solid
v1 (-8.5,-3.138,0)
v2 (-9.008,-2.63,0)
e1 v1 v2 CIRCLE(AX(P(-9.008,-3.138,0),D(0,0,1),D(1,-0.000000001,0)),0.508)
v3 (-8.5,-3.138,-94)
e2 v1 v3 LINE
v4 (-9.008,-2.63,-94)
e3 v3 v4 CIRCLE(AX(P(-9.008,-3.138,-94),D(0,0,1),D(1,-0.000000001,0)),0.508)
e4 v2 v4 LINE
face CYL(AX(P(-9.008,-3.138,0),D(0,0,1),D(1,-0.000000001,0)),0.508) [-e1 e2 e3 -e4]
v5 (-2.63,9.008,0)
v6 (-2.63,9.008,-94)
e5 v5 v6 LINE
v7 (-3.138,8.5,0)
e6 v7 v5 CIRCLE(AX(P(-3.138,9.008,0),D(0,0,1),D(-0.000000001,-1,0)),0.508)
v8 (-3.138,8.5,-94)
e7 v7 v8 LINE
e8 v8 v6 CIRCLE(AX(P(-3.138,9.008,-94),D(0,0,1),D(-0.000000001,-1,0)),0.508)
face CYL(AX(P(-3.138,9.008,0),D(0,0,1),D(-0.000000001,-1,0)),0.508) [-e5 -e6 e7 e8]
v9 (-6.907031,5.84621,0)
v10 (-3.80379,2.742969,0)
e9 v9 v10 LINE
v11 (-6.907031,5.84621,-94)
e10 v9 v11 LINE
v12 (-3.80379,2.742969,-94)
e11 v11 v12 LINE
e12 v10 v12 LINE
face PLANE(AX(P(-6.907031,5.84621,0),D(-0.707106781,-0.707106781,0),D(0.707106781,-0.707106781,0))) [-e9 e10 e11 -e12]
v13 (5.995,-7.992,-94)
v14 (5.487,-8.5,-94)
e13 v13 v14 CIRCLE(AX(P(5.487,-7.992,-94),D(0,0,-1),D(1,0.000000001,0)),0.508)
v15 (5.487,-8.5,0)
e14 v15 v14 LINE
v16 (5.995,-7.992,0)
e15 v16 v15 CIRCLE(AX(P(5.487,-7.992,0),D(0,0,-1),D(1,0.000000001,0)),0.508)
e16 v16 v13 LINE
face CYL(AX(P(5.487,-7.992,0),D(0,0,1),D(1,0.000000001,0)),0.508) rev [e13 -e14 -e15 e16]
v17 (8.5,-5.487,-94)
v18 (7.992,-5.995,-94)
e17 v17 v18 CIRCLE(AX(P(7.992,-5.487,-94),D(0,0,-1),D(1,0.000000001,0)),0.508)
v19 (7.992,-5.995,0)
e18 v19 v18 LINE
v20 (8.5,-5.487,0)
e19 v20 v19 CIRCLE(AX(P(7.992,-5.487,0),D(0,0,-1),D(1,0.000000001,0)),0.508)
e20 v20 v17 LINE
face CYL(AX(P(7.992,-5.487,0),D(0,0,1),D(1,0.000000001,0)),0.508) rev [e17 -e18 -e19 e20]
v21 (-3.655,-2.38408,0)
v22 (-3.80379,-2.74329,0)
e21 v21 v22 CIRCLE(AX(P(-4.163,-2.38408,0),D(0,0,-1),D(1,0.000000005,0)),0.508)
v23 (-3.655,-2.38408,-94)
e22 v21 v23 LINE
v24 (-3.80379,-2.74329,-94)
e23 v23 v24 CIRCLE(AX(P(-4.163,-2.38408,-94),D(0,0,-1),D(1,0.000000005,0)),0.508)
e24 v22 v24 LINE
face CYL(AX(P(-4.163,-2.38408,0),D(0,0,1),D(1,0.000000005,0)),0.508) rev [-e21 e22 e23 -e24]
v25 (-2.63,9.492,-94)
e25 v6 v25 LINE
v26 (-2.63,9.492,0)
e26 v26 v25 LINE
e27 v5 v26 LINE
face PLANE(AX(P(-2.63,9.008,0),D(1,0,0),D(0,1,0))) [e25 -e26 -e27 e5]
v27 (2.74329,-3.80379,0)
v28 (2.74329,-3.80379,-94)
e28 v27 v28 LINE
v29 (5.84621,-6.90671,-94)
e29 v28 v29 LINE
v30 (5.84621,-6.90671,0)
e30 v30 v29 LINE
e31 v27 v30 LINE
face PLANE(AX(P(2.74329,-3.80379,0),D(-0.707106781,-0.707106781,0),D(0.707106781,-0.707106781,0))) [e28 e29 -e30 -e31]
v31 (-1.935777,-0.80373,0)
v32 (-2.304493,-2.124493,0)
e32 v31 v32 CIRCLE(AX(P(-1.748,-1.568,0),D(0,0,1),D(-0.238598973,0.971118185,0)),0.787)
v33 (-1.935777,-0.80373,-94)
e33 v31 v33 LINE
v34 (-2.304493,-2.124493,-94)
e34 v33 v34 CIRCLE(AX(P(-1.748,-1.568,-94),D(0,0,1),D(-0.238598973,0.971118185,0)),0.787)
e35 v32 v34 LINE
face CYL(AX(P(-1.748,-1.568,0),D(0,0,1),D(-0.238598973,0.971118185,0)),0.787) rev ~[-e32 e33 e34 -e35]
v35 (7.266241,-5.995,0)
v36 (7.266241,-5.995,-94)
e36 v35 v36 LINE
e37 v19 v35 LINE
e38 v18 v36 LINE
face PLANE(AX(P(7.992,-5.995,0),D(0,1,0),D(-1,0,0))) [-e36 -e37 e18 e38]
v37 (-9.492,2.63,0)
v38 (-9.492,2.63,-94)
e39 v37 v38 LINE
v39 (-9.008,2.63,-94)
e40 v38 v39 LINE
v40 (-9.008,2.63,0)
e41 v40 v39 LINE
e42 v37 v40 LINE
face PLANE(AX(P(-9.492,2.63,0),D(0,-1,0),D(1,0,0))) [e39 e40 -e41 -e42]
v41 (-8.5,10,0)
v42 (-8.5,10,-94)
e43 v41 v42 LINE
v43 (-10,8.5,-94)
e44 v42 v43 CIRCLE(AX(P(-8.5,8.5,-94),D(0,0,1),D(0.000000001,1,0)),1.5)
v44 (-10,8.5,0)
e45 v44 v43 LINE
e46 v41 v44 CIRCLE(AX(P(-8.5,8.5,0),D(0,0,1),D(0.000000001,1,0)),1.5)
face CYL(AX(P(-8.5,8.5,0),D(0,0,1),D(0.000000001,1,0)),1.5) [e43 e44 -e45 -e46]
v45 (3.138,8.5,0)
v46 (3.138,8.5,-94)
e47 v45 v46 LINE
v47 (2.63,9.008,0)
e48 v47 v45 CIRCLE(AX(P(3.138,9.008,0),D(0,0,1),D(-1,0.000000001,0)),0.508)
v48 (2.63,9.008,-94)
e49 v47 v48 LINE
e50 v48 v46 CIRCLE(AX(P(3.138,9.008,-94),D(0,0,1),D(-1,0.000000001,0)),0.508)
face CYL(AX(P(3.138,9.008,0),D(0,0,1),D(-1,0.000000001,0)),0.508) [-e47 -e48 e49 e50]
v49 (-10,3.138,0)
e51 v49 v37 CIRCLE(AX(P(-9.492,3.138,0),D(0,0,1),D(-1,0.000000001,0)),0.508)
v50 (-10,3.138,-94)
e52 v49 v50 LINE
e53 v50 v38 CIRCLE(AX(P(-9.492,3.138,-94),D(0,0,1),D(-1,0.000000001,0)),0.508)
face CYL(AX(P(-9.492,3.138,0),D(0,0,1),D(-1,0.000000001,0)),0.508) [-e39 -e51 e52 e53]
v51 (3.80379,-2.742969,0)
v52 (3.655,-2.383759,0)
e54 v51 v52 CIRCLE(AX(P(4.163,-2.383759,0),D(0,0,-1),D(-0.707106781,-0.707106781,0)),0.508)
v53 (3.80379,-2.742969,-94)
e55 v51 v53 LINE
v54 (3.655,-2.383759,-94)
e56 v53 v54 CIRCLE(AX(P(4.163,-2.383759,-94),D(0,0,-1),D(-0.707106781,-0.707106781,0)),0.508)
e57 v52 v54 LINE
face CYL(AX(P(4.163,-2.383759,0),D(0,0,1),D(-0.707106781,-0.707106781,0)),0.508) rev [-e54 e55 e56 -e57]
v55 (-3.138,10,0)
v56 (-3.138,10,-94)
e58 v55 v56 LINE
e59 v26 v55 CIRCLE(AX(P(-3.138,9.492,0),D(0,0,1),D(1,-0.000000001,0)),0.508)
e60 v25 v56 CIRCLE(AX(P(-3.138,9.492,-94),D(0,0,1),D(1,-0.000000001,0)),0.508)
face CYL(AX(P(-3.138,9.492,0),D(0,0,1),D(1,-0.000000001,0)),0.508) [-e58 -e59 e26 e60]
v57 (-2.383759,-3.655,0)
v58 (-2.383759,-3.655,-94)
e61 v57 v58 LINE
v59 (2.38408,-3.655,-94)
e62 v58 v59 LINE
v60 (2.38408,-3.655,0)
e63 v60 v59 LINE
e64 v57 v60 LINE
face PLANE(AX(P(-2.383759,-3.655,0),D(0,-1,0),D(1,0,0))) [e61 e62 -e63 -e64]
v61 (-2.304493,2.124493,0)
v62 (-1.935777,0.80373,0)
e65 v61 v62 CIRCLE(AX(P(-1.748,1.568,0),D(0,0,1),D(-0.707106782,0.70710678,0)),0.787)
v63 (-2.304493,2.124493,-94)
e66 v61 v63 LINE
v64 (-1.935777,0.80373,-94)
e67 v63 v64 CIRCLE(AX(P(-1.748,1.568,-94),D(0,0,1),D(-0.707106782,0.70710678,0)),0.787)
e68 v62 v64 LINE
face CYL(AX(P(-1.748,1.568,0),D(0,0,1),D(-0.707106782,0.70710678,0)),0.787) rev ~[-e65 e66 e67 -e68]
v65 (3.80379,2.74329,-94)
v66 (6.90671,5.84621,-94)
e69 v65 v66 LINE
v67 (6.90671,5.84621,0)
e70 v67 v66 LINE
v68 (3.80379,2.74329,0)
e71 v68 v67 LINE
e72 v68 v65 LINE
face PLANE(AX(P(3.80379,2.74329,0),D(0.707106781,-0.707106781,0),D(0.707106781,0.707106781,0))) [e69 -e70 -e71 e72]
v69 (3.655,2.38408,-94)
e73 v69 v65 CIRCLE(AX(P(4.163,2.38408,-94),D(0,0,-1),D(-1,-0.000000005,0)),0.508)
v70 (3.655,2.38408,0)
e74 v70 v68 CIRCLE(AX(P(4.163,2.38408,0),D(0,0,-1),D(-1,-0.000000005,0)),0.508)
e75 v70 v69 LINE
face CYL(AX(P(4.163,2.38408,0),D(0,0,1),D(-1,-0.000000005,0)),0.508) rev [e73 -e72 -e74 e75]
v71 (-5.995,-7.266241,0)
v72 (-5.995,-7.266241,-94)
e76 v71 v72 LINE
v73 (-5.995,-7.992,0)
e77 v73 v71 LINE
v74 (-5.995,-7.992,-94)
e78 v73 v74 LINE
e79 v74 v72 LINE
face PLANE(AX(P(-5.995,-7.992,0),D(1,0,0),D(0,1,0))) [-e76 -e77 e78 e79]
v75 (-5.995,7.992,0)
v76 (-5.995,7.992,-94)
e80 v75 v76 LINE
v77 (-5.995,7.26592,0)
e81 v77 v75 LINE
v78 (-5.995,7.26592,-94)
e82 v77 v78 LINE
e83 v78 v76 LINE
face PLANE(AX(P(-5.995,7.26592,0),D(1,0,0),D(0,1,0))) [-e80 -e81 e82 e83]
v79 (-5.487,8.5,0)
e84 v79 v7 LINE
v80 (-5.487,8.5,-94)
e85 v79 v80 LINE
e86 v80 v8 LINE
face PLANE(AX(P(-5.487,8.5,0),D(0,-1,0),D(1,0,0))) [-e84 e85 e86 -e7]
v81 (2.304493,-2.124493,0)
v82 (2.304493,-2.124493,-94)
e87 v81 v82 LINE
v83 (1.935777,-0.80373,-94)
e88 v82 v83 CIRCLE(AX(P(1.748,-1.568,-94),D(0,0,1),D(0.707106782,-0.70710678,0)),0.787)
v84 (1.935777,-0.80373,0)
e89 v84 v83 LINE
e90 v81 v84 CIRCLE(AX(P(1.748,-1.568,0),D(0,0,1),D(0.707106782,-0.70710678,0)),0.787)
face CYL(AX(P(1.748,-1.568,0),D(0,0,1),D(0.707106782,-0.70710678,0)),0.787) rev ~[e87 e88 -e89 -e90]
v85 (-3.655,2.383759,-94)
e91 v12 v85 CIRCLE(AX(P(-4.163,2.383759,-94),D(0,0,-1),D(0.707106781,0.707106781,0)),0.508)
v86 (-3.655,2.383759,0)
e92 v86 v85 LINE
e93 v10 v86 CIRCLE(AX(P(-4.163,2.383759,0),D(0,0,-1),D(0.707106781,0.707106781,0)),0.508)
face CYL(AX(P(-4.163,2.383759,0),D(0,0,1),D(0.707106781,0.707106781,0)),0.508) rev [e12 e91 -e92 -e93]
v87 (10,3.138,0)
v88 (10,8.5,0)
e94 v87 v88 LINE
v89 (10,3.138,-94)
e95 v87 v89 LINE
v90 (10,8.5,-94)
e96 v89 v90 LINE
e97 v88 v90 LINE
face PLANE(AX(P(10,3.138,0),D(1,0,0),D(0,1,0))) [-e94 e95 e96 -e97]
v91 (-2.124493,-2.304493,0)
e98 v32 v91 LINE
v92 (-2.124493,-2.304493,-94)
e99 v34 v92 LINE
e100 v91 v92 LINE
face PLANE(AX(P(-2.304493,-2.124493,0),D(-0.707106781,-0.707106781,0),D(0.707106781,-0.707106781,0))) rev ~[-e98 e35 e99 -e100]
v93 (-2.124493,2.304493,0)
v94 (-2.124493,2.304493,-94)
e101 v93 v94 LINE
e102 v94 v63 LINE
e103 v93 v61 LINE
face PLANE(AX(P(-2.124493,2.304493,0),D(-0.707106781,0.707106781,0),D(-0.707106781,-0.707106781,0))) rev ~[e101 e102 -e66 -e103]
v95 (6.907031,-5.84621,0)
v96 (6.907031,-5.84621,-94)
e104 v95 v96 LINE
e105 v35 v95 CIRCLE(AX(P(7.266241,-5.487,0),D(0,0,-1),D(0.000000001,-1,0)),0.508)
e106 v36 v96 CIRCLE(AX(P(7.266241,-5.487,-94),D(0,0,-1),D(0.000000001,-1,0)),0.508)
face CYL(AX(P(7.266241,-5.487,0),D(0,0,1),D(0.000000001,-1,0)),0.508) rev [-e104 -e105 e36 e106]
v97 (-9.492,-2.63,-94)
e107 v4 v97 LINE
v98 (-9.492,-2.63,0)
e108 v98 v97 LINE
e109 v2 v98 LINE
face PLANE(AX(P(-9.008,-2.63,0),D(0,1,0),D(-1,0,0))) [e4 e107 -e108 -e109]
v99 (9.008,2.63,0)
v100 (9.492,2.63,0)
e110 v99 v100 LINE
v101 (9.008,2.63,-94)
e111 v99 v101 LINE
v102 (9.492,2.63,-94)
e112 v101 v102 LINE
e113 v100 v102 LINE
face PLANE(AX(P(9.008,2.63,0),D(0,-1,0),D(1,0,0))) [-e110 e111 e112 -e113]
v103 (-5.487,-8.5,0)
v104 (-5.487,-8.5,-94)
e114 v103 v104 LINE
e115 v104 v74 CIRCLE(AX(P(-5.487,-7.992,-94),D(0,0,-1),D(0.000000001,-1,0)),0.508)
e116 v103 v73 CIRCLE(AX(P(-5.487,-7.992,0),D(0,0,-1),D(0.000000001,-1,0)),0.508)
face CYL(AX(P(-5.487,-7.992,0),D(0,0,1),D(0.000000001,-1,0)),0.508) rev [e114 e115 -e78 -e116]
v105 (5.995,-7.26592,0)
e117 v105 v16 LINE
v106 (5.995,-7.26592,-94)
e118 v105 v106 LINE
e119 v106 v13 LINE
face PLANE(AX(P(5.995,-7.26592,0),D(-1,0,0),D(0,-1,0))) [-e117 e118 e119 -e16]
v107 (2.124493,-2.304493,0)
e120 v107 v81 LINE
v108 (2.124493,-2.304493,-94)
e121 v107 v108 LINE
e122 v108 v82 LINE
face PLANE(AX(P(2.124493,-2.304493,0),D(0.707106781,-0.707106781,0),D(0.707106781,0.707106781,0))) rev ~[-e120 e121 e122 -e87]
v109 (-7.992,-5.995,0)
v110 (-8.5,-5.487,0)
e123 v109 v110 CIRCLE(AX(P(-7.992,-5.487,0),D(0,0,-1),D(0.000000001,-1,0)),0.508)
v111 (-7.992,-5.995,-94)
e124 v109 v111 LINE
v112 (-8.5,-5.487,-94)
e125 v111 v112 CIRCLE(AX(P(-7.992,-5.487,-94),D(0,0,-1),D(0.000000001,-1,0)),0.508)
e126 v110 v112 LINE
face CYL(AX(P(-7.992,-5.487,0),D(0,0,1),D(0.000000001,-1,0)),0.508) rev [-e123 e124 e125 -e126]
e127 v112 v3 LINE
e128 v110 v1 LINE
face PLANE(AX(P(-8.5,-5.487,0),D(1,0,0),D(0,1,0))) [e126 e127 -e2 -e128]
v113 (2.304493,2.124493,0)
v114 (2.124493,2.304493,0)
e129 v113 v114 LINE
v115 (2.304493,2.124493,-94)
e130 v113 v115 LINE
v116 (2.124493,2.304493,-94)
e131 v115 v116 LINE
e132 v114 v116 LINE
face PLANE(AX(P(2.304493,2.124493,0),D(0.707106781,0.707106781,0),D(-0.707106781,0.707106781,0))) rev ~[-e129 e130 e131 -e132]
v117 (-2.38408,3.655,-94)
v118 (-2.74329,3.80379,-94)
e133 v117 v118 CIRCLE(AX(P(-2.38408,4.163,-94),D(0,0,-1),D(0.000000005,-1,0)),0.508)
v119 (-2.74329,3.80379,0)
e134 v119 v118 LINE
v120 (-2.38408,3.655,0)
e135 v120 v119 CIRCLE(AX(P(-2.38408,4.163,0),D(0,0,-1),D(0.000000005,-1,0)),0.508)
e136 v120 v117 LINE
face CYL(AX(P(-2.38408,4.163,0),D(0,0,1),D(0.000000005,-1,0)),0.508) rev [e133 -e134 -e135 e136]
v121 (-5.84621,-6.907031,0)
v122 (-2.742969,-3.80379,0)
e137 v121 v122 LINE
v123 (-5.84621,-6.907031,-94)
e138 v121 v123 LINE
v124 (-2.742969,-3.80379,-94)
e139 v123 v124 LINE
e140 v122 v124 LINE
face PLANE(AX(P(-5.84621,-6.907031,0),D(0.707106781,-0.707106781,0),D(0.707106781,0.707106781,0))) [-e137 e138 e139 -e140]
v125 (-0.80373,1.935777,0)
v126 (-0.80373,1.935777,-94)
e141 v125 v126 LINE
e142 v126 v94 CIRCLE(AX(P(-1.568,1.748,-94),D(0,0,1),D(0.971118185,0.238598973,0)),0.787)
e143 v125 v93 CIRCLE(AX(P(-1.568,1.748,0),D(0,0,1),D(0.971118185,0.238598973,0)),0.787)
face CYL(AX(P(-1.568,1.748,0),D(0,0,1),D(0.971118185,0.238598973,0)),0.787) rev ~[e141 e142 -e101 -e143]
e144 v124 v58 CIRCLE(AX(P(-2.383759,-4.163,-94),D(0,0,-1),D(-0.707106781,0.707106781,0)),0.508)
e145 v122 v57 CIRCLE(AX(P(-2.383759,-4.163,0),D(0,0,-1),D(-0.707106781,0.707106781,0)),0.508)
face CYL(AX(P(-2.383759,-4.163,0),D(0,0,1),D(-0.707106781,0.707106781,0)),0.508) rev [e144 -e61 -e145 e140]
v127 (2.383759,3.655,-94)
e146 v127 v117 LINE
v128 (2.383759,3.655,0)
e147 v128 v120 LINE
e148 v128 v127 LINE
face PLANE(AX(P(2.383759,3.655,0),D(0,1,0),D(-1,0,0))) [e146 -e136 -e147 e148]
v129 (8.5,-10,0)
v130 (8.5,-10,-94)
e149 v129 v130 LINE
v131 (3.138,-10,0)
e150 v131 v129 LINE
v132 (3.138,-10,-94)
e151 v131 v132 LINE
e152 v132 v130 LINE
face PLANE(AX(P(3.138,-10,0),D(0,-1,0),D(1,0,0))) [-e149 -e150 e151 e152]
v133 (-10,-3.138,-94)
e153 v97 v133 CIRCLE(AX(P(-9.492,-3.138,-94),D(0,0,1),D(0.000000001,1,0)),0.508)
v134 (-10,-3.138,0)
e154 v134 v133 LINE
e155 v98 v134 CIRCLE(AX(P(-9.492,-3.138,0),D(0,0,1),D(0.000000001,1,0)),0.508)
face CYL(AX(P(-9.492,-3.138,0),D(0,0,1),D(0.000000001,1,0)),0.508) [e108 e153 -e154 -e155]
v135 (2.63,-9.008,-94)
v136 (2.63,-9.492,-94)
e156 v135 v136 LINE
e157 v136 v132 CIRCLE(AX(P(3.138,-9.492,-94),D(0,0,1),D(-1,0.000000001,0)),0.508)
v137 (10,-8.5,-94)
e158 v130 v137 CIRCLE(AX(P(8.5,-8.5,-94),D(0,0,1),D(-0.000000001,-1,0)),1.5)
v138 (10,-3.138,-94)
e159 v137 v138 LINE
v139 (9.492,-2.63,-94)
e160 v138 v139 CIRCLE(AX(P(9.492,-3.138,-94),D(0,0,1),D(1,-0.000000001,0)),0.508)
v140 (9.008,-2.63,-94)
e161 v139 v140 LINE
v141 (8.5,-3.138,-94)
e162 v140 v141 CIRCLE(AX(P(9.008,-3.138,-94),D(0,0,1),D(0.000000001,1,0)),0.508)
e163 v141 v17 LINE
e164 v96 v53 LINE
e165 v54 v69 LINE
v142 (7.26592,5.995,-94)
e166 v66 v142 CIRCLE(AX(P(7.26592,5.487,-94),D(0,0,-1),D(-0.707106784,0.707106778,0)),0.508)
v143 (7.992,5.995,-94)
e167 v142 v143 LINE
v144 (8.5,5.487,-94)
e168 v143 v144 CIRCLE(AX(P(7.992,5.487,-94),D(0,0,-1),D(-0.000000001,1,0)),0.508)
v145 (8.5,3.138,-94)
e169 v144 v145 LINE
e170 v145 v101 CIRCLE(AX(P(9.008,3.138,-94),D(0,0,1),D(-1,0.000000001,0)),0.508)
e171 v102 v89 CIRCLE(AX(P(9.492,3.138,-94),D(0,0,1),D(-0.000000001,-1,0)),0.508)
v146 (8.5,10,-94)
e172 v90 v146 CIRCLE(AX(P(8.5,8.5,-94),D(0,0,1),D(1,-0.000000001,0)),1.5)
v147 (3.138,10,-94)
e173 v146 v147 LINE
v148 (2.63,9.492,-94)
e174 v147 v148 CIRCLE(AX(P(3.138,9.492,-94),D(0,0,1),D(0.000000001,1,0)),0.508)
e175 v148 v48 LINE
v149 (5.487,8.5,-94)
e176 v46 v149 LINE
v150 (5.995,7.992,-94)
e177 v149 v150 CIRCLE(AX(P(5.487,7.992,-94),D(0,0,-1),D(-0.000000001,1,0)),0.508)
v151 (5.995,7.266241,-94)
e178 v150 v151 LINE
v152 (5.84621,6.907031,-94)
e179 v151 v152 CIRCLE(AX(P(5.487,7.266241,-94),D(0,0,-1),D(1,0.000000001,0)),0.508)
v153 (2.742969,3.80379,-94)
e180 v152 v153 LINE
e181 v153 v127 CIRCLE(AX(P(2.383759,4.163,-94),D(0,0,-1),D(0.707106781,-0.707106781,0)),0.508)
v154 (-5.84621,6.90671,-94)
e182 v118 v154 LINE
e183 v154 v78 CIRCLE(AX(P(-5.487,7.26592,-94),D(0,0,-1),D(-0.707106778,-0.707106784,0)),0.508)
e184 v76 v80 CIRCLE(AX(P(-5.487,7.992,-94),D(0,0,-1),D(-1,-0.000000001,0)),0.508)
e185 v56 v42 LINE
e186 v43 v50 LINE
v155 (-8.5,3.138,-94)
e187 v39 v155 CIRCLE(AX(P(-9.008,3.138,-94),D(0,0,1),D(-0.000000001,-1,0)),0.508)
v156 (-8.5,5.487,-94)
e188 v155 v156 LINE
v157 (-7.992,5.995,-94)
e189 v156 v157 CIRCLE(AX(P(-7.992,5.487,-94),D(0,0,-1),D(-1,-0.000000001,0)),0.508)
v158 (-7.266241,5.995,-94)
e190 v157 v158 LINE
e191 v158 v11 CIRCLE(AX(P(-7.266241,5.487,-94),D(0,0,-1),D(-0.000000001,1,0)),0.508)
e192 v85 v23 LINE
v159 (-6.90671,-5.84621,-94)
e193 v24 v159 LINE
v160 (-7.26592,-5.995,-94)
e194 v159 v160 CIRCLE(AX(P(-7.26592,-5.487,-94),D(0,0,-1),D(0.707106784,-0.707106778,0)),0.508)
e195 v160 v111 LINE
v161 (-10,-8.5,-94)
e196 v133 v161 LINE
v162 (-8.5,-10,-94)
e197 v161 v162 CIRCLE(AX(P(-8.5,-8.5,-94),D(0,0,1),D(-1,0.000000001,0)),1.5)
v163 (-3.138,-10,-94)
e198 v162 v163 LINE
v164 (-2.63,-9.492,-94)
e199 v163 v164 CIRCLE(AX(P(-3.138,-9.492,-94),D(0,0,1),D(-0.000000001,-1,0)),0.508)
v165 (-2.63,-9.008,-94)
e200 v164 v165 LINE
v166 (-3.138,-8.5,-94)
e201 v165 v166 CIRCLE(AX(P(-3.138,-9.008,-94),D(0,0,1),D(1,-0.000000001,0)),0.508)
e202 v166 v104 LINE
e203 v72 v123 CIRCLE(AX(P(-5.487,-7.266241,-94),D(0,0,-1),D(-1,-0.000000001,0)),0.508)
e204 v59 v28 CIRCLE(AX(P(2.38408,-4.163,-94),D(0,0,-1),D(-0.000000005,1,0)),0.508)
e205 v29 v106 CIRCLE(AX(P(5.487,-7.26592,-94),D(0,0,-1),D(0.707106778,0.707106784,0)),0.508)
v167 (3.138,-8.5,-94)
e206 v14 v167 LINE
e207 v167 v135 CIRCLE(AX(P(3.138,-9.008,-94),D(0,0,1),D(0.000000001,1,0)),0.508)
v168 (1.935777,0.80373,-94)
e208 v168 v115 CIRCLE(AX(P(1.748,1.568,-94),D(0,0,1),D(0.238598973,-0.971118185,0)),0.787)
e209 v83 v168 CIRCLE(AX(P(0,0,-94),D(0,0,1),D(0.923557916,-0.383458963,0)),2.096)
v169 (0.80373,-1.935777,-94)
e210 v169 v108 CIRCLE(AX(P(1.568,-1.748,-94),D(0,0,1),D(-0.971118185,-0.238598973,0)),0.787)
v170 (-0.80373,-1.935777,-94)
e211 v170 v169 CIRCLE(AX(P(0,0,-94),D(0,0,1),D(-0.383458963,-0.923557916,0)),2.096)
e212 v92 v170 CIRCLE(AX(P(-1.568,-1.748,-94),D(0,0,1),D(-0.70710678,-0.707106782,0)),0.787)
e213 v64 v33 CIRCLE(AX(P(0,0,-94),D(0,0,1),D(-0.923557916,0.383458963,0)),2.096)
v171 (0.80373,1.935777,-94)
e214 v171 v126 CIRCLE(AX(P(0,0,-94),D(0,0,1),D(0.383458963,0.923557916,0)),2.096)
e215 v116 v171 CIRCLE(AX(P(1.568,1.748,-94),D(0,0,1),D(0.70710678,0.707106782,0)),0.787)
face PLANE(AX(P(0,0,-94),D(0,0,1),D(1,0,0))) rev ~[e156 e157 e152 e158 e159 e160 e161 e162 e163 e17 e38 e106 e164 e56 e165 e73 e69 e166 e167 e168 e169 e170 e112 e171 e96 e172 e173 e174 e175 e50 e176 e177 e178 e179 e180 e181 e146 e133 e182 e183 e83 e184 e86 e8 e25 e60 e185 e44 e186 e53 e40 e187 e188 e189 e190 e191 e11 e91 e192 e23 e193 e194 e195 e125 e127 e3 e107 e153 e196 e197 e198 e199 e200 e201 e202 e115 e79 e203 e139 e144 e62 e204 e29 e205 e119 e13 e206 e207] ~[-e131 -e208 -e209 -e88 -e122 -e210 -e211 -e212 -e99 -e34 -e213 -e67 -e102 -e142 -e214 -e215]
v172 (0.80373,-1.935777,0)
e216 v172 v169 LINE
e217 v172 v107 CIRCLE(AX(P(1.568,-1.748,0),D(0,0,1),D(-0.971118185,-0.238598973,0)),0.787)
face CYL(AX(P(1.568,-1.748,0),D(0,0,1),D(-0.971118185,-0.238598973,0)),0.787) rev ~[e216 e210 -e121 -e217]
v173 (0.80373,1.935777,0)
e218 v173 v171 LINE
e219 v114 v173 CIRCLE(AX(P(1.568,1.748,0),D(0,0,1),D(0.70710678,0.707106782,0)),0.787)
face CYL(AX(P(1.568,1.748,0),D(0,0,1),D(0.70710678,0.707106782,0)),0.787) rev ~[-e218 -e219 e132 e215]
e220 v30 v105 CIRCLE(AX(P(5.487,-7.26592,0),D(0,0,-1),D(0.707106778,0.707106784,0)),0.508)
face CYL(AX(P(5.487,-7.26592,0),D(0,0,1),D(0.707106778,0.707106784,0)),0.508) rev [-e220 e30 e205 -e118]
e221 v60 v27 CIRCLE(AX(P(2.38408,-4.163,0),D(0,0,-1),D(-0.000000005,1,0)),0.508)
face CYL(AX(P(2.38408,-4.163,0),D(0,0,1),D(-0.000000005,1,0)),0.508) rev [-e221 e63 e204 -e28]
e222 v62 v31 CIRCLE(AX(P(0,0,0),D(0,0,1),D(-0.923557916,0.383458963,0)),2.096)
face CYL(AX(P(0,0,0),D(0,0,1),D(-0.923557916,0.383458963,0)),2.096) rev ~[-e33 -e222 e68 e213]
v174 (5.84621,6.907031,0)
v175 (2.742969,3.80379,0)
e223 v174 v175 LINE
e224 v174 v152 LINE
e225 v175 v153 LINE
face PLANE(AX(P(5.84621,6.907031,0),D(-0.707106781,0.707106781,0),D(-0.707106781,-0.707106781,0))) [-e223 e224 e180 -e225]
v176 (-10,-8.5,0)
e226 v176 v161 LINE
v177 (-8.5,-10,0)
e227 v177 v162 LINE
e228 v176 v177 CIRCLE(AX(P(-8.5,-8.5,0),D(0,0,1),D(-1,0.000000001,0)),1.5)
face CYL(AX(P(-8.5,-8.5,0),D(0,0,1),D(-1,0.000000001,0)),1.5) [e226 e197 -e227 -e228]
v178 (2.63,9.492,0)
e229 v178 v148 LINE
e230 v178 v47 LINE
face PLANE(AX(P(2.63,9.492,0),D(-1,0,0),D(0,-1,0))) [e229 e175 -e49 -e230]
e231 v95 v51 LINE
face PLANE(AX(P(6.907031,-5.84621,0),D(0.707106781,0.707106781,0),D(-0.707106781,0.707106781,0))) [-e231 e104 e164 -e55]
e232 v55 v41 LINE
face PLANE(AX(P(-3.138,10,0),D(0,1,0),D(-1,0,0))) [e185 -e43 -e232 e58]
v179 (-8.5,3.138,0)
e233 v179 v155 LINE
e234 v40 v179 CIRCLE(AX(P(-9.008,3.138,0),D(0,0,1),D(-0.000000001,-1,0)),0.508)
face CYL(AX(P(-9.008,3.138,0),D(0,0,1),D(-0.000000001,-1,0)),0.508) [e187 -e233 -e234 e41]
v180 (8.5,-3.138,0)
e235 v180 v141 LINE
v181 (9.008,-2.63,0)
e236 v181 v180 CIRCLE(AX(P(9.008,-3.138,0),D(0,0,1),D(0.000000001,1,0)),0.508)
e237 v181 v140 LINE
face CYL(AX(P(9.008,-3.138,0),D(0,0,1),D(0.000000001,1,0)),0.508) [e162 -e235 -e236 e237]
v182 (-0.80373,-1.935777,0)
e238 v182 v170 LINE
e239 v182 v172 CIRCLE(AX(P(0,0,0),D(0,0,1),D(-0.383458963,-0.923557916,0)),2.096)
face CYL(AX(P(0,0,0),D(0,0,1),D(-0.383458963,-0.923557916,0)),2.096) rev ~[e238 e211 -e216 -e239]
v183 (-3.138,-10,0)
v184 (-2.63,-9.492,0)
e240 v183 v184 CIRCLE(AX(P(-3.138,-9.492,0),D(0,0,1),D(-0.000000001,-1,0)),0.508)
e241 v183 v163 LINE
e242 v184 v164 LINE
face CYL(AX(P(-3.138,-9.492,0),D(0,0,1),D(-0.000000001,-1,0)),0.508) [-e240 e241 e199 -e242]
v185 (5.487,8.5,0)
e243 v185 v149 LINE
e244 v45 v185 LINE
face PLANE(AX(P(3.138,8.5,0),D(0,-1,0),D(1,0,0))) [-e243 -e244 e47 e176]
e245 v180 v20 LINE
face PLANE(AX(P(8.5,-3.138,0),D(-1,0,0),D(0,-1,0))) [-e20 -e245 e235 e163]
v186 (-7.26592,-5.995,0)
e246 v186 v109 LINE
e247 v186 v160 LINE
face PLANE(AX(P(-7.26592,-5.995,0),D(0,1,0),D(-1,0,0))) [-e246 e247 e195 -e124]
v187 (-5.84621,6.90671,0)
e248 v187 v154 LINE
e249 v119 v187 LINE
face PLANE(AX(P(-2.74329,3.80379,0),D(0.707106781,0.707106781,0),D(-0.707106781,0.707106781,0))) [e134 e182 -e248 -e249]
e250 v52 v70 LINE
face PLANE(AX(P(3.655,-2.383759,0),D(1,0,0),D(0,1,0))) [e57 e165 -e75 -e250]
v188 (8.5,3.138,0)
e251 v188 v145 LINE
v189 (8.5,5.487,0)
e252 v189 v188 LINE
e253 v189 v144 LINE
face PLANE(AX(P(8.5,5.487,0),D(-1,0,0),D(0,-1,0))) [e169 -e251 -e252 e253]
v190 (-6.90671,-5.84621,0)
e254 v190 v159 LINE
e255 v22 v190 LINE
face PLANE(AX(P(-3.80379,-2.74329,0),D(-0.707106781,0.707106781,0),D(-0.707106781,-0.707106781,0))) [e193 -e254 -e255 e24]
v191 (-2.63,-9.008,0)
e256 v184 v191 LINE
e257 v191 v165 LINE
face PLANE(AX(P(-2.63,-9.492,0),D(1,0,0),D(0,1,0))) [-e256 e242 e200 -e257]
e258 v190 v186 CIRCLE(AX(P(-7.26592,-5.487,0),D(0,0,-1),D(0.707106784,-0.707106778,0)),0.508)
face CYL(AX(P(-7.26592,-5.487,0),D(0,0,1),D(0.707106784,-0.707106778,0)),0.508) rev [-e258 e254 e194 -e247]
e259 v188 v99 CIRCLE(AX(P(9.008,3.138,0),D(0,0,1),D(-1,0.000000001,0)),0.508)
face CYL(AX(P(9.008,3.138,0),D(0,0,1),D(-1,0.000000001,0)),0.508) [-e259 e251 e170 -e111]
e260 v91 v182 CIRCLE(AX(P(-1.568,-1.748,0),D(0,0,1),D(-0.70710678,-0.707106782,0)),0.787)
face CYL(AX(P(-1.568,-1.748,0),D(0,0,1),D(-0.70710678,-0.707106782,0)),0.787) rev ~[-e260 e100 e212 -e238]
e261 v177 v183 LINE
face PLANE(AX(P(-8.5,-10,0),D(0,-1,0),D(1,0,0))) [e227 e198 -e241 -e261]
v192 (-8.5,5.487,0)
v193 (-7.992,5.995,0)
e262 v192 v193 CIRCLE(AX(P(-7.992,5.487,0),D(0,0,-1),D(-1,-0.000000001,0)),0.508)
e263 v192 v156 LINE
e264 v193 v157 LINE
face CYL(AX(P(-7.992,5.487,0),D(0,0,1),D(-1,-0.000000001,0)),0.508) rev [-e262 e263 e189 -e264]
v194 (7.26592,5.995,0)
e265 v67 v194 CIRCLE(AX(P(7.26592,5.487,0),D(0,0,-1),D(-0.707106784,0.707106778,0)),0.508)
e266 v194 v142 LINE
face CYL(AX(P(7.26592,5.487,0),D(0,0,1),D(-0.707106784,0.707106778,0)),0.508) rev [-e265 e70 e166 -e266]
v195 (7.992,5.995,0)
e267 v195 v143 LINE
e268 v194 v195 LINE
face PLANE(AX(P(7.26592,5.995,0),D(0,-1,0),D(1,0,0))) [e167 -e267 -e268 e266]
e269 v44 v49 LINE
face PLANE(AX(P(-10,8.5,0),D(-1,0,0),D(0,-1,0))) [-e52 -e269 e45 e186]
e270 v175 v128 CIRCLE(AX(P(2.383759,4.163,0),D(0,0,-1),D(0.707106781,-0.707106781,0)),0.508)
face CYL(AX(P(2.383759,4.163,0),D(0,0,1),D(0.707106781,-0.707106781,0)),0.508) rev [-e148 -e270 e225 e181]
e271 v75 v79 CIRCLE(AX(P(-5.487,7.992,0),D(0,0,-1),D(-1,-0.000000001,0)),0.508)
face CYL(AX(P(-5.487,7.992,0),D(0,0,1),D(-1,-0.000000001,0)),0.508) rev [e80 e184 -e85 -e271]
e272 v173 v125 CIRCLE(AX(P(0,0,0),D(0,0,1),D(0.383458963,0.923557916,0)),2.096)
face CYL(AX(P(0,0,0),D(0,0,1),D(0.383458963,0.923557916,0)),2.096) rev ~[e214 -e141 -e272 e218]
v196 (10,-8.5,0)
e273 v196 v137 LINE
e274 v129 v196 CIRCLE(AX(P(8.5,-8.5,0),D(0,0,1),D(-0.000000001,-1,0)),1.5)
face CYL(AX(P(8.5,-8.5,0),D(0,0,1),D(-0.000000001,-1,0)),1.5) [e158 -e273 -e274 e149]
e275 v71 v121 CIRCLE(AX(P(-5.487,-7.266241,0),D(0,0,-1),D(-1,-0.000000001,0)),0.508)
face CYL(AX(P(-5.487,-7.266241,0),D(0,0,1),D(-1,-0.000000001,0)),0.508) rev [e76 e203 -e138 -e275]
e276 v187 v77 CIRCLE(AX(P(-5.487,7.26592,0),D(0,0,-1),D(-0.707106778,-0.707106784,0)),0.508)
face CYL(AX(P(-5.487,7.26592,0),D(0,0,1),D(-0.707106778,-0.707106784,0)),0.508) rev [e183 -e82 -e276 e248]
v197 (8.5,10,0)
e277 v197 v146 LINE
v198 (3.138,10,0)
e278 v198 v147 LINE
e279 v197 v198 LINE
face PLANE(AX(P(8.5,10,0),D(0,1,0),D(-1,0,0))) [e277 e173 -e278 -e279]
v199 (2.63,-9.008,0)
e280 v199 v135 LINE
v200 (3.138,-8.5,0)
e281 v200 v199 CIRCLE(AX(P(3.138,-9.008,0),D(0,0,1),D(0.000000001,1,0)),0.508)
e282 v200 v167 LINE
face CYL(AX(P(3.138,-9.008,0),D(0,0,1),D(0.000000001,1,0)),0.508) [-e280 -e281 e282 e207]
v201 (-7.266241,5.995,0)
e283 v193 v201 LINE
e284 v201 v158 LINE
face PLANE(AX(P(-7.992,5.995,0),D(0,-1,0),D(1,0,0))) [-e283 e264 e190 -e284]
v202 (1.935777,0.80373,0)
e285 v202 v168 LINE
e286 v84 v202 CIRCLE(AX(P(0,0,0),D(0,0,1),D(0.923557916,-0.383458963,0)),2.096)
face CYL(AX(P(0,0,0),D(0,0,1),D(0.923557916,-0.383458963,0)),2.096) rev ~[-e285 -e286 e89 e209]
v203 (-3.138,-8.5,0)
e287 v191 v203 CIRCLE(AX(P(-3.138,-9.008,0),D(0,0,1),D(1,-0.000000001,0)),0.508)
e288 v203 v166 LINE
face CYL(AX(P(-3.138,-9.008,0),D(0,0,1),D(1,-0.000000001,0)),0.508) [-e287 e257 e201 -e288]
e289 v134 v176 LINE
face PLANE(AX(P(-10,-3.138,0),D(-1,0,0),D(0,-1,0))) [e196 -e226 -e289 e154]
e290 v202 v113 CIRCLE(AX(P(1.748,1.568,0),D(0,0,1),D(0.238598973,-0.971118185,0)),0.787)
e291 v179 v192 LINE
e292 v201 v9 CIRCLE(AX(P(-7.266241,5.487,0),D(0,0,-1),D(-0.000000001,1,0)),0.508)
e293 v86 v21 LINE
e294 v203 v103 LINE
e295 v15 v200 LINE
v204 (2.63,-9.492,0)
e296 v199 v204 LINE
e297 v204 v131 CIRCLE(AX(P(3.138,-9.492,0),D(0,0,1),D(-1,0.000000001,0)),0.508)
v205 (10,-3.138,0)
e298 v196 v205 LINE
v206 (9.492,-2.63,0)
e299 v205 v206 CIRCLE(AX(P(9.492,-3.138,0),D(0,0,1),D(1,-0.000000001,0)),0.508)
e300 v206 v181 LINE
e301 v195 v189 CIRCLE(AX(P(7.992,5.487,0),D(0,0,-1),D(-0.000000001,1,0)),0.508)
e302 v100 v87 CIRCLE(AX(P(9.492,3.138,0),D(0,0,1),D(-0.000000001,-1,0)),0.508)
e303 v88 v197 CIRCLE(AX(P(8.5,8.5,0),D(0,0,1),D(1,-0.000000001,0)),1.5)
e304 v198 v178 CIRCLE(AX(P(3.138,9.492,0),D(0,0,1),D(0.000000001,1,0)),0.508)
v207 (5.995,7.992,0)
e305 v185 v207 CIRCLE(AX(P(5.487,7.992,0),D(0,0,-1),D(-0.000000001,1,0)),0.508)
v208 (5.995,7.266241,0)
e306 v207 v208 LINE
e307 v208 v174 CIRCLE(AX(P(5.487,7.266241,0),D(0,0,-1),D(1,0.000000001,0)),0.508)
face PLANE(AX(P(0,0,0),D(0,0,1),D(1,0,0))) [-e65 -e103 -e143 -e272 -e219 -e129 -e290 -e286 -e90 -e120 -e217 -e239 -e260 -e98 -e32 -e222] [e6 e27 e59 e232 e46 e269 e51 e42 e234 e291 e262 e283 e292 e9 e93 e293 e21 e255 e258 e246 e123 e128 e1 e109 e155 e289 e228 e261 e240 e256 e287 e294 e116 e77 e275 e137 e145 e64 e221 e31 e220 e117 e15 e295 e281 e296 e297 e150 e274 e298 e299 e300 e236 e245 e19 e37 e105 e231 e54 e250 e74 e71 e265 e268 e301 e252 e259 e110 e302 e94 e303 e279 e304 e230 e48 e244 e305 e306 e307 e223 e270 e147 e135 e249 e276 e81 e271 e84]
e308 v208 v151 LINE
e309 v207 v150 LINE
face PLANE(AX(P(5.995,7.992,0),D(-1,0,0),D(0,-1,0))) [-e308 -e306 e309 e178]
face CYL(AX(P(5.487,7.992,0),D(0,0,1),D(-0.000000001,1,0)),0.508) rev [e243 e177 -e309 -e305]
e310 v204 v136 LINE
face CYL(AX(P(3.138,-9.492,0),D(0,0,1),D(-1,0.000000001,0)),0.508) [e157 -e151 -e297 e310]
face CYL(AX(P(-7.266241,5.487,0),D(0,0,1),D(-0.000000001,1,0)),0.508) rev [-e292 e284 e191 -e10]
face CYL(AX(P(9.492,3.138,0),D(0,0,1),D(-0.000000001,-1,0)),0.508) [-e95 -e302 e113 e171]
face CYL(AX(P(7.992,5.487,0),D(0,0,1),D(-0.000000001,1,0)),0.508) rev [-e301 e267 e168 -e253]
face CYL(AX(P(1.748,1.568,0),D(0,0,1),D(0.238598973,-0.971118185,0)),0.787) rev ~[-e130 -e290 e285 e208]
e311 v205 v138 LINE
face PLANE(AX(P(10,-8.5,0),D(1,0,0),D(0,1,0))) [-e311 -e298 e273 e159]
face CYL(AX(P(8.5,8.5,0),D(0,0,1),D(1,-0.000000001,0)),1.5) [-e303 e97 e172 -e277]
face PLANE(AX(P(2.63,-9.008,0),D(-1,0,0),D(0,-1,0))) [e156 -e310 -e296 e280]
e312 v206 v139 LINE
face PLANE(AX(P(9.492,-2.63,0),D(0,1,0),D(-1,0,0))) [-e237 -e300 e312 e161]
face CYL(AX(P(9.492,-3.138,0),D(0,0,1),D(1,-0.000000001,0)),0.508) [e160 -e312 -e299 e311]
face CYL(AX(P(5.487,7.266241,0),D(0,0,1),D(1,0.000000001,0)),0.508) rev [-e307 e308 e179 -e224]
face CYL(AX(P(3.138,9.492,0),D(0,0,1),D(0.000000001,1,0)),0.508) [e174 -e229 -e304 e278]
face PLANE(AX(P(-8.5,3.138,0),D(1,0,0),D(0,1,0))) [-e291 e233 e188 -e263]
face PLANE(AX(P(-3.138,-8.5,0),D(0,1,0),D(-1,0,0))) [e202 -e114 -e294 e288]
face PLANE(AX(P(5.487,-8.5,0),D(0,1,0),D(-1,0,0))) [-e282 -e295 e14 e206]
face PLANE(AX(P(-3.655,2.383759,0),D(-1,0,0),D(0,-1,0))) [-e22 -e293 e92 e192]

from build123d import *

# Parameters (mm, degrees)
BOSS_EXTRUDE1_DEPTH = 94


with BuildPart() as part:
    # Sketch2 → Boss-Extrude1 (new body)
    with BuildSketch(Plane.XY):
        with BuildLine():
            Line((-10, -3.138), (-10, -8.5))
            ThreePointArc((-10, -8.5), (-9.560660172, -9.560660172), (-8.5, -10))
            Line((-8.5, -10), (-3.138, -10))
            ThreePointArc((-3.138, -10), (-2.778789755, -9.851210245), (-2.63, -9.492))
            Line((-2.63, -9.492), (-2.63, -9.008))
            ThreePointArc((-2.63, -9.008), (-2.778789755, -8.648789755), (-3.138, -8.5))
            Line((-3.138, -8.5), (-5.487, -8.5))
            ThreePointArc((-5.487, -8.5), (-5.846210245, -8.351210245), (-5.995, -7.992))
            Line((-5.995, -7.992), (-5.995, -7.266240833))
            ThreePointArc((-5.995, -7.266240833), (-5.956330803, -7.07183765), (-5.846210245, -6.907030588))
            Line((-5.846210245, -6.907030588), (-2.742969412, -3.803789755))
            ThreePointArc((-2.742969412, -3.803789755), (-2.57816235, -3.693669197), (-2.383759167, -3.655))
            Line((-2.383759167, -3.655), (2.38407951, -3.655))
            ThreePointArc((2.38407951, -3.655), (2.578482694, -3.693669197), (2.743289755, -3.803789755))
            Line((2.743289755, -3.803789755), (5.846210245, -6.906710245))
            ThreePointArc((5.846210245, -6.906710245), (5.956330803, -7.071517306), (5.995, -7.26592049))
            Line((5.995, -7.26592049), (5.995, -7.992))
            ThreePointArc((5.995, -7.992), (5.846210245, -8.351210245), (5.487, -8.5))
            Line((5.487, -8.5), (3.138, -8.5))
            ThreePointArc((3.138, -8.5), (2.778789755, -8.648789755), (2.63, -9.008))
            Line((2.63, -9.008), (2.63, -9.492))
            ThreePointArc((2.63, -9.492), (2.778789755, -9.851210245), (3.138, -10))
            Line((3.138, -10), (8.5, -10))
            ThreePointArc((8.5, -10), (9.560660172, -9.560660172), (10, -8.5))
            Line((10, -8.5), (10, -3.138))
            ThreePointArc((10, -3.138), (9.851210245, -2.778789755), (9.492, -2.63))
            Line((9.492, -2.63), (9.008, -2.63))
            ThreePointArc((9.008, -2.63), (8.648789755, -2.778789755), (8.5, -3.138))
            Line((8.5, -3.138), (8.5, -5.487))
            ThreePointArc((8.5, -5.487), (8.351210245, -5.846210245), (7.992, -5.995))
            Line((7.992, -5.995), (7.266240833, -5.995))
            ThreePointArc((7.266240833, -5.995), (7.07183765, -5.956330803), (6.907030588, -5.846210245))
            Line((6.907030588, -5.846210245), (3.803789755, -2.742969412))
            ThreePointArc((3.803789755, -2.742969412), (3.693669197, -2.57816235), (3.655, -2.383759167))
            Line((3.655, -2.383759167), (3.655, 2.38407951))
            ThreePointArc((3.655, 2.38407951), (3.693669197, 2.578482694), (3.803789755, 2.743289755))
            Line((3.803789755, 2.743289755), (6.906710245, 5.846210245))
            ThreePointArc((6.906710245, 5.846210245), (7.071517306, 5.956330803), (7.26592049, 5.995))
            Line((7.26592049, 5.995), (7.992, 5.995))
            ThreePointArc((7.992, 5.995), (8.351210245, 5.846210245), (8.5, 5.487))
            Line((8.5, 5.487), (8.5, 3.138))
            ThreePointArc((8.5, 3.138), (8.648789755, 2.778789755), (9.008, 2.63))
            Line((9.008, 2.63), (9.492, 2.63))
            ThreePointArc((9.492, 2.63), (9.851210245, 2.778789755), (10, 3.138))
            Line((10, 3.138), (10, 8.5))
            ThreePointArc((10, 8.5), (9.560660172, 9.560660172), (8.5, 10))
            Line((8.5, 10), (3.138, 10))
            ThreePointArc((3.138, 10), (2.778789755, 9.851210245), (2.63, 9.492))
            Line((2.63, 9.492), (2.63, 9.008))
            ThreePointArc((2.63, 9.008), (2.778789755, 8.648789755), (3.138, 8.5))
            Line((3.138, 8.5), (5.487, 8.5))
            ThreePointArc((5.487, 8.5), (5.846210245, 8.351210245), (5.995, 7.992))
            Line((5.995, 7.992), (5.995, 7.266240833))
            ThreePointArc((5.995, 7.266240833), (5.956330803, 7.07183765), (5.846210245, 6.907030588))
            Line((5.846210245, 6.907030588), (2.742969412, 3.803789755))
            ThreePointArc((2.742969412, 3.803789755), (2.57816235, 3.693669197), (2.383759167, 3.655))
            Line((2.383759167, 3.655), (-2.38407951, 3.655))
            ThreePointArc((-2.38407951, 3.655), (-2.578482694, 3.693669197), (-2.743289755, 3.803789755))
            Line((-2.743289755, 3.803789755), (-5.846210245, 6.906710245))
            ThreePointArc((-5.846210245, 6.906710245), (-5.956330803, 7.071517306), (-5.995, 7.26592049))
            Line((-5.995, 7.26592049), (-5.995, 7.992))
            ThreePointArc((-5.995, 7.992), (-5.846210245, 8.351210245), (-5.487, 8.5))
            Line((-5.487, 8.5), (-3.138, 8.5))
            ThreePointArc((-3.138, 8.5), (-2.778789755, 8.648789755), (-2.63, 9.008))
            Line((-2.63, 9.008), (-2.63, 9.492))
            ThreePointArc((-2.63, 9.492), (-2.778789755, 9.851210245), (-3.138, 10))
            Line((-3.138, 10), (-8.5, 10))
            ThreePointArc((-8.5, 10), (-9.560660172, 9.560660172), (-10, 8.5))
            Line((-10, 8.5), (-10, 3.138))
            ThreePointArc((-10, 3.138), (-9.851210245, 2.778789755), (-9.492, 2.63))
            Line((-9.492, 2.63), (-9.008, 2.63))
            ThreePointArc((-9.008, 2.63), (-8.648789755, 2.778789755), (-8.5, 3.138))
            Line((-8.5, 3.138), (-8.5, 5.487))
            ThreePointArc((-8.5, 5.487), (-8.351210245, 5.846210245), (-7.992, 5.995))
            Line((-7.992, 5.995), (-7.266240833, 5.995))
            ThreePointArc((-7.266240833, 5.995), (-7.07183765, 5.956330803), (-6.907030588, 5.846210245))
            Line((-6.907030588, 5.846210245), (-3.803789755, 2.742969412))
            ThreePointArc((-3.803789755, 2.742969412), (-3.693669197, 2.57816235), (-3.655, 2.383759167))
            Line((-3.655, 2.383759167), (-3.655, -2.38407951))
            ThreePointArc((-3.655, -2.38407951), (-3.693669197, -2.578482694), (-3.803789755, -2.743289755))
            Line((-3.803789755, -2.743289755), (-6.906710245, -5.846210245))
            ThreePointArc((-6.906710245, -5.846210245), (-7.071517306, -5.956330803), (-7.26592049, -5.995))
            Line((-7.26592049, -5.995), (-7.992, -5.995))
            ThreePointArc((-7.992, -5.995), (-8.351210245, -5.846210245), (-8.5, -5.487))
            Line((-8.5, -5.487), (-8.5, -3.138))
            ThreePointArc((-8.5, -3.138), (-8.648789755, -2.778789755), (-9.008, -2.63))
            Line((-9.008, -2.63), (-9.492, -2.63))
            ThreePointArc((-9.492, -2.63), (-9.851210245, -2.778789755), (-10, -3.138))
        make_face()
        with BuildLine():
            Line((-2.124493037, 2.304493037), (-2.304493037, 2.124493037))
            ThreePointArc((-2.304493037, 2.124493037), (-2.506016078, 1.35638567), (-1.935777391, 0.803729988))
            ThreePointArc((-1.935777391, 0.803729988), (-2.096, 0), (-1.935777391, -0.803729988))
            ThreePointArc((-1.935777391, -0.803729988), (-2.506016078, -1.35638567), (-2.304493037, -2.124493037))
            Line((-2.304493037, -2.124493037), (-2.124493037, -2.304493037))
            ThreePointArc((-2.124493037, -2.304493037), (-1.35638567, -2.506016078), (-0.803729988, -1.935777391))
            ThreePointArc((-0.803729988, -1.935777391), (0, -2.096), (0.803729988, -1.935777391))
            ThreePointArc((0.803729988, -1.935777391), (1.35638567, -2.506016078), (2.124493037, -2.304493037))
            Line((2.124493037, -2.304493037), (2.304493037, -2.124493037))
            ThreePointArc((2.304493037, -2.124493037), (2.506016078, -1.35638567), (1.935777391, -0.803729988))
            ThreePointArc((1.935777391, -0.803729988), (2.096, 0), (1.935777391, 0.803729988))
            ThreePointArc((1.935777391, 0.803729988), (2.506016078, 1.35638567), (2.304493037, 2.124493037))
            Line((2.304493037, 2.124493037), (2.124493037, 2.304493037))
            ThreePointArc((2.124493037, 2.304493037), (1.35638567, 2.506016078), (0.803729988, 1.935777391))
            ThreePointArc((0.803729988, 1.935777391), (0, 2.096), (-0.803729988, 1.935777391))
            ThreePointArc((-0.803729988, 1.935777391), (-1.35638567, 2.506016078), (-2.124493037, 2.304493037))
        make_face(mode=Mode.SUBTRACT)
    extrude(amount=-BOSS_EXTRUDE1_DEPTH)


solid = part.part
